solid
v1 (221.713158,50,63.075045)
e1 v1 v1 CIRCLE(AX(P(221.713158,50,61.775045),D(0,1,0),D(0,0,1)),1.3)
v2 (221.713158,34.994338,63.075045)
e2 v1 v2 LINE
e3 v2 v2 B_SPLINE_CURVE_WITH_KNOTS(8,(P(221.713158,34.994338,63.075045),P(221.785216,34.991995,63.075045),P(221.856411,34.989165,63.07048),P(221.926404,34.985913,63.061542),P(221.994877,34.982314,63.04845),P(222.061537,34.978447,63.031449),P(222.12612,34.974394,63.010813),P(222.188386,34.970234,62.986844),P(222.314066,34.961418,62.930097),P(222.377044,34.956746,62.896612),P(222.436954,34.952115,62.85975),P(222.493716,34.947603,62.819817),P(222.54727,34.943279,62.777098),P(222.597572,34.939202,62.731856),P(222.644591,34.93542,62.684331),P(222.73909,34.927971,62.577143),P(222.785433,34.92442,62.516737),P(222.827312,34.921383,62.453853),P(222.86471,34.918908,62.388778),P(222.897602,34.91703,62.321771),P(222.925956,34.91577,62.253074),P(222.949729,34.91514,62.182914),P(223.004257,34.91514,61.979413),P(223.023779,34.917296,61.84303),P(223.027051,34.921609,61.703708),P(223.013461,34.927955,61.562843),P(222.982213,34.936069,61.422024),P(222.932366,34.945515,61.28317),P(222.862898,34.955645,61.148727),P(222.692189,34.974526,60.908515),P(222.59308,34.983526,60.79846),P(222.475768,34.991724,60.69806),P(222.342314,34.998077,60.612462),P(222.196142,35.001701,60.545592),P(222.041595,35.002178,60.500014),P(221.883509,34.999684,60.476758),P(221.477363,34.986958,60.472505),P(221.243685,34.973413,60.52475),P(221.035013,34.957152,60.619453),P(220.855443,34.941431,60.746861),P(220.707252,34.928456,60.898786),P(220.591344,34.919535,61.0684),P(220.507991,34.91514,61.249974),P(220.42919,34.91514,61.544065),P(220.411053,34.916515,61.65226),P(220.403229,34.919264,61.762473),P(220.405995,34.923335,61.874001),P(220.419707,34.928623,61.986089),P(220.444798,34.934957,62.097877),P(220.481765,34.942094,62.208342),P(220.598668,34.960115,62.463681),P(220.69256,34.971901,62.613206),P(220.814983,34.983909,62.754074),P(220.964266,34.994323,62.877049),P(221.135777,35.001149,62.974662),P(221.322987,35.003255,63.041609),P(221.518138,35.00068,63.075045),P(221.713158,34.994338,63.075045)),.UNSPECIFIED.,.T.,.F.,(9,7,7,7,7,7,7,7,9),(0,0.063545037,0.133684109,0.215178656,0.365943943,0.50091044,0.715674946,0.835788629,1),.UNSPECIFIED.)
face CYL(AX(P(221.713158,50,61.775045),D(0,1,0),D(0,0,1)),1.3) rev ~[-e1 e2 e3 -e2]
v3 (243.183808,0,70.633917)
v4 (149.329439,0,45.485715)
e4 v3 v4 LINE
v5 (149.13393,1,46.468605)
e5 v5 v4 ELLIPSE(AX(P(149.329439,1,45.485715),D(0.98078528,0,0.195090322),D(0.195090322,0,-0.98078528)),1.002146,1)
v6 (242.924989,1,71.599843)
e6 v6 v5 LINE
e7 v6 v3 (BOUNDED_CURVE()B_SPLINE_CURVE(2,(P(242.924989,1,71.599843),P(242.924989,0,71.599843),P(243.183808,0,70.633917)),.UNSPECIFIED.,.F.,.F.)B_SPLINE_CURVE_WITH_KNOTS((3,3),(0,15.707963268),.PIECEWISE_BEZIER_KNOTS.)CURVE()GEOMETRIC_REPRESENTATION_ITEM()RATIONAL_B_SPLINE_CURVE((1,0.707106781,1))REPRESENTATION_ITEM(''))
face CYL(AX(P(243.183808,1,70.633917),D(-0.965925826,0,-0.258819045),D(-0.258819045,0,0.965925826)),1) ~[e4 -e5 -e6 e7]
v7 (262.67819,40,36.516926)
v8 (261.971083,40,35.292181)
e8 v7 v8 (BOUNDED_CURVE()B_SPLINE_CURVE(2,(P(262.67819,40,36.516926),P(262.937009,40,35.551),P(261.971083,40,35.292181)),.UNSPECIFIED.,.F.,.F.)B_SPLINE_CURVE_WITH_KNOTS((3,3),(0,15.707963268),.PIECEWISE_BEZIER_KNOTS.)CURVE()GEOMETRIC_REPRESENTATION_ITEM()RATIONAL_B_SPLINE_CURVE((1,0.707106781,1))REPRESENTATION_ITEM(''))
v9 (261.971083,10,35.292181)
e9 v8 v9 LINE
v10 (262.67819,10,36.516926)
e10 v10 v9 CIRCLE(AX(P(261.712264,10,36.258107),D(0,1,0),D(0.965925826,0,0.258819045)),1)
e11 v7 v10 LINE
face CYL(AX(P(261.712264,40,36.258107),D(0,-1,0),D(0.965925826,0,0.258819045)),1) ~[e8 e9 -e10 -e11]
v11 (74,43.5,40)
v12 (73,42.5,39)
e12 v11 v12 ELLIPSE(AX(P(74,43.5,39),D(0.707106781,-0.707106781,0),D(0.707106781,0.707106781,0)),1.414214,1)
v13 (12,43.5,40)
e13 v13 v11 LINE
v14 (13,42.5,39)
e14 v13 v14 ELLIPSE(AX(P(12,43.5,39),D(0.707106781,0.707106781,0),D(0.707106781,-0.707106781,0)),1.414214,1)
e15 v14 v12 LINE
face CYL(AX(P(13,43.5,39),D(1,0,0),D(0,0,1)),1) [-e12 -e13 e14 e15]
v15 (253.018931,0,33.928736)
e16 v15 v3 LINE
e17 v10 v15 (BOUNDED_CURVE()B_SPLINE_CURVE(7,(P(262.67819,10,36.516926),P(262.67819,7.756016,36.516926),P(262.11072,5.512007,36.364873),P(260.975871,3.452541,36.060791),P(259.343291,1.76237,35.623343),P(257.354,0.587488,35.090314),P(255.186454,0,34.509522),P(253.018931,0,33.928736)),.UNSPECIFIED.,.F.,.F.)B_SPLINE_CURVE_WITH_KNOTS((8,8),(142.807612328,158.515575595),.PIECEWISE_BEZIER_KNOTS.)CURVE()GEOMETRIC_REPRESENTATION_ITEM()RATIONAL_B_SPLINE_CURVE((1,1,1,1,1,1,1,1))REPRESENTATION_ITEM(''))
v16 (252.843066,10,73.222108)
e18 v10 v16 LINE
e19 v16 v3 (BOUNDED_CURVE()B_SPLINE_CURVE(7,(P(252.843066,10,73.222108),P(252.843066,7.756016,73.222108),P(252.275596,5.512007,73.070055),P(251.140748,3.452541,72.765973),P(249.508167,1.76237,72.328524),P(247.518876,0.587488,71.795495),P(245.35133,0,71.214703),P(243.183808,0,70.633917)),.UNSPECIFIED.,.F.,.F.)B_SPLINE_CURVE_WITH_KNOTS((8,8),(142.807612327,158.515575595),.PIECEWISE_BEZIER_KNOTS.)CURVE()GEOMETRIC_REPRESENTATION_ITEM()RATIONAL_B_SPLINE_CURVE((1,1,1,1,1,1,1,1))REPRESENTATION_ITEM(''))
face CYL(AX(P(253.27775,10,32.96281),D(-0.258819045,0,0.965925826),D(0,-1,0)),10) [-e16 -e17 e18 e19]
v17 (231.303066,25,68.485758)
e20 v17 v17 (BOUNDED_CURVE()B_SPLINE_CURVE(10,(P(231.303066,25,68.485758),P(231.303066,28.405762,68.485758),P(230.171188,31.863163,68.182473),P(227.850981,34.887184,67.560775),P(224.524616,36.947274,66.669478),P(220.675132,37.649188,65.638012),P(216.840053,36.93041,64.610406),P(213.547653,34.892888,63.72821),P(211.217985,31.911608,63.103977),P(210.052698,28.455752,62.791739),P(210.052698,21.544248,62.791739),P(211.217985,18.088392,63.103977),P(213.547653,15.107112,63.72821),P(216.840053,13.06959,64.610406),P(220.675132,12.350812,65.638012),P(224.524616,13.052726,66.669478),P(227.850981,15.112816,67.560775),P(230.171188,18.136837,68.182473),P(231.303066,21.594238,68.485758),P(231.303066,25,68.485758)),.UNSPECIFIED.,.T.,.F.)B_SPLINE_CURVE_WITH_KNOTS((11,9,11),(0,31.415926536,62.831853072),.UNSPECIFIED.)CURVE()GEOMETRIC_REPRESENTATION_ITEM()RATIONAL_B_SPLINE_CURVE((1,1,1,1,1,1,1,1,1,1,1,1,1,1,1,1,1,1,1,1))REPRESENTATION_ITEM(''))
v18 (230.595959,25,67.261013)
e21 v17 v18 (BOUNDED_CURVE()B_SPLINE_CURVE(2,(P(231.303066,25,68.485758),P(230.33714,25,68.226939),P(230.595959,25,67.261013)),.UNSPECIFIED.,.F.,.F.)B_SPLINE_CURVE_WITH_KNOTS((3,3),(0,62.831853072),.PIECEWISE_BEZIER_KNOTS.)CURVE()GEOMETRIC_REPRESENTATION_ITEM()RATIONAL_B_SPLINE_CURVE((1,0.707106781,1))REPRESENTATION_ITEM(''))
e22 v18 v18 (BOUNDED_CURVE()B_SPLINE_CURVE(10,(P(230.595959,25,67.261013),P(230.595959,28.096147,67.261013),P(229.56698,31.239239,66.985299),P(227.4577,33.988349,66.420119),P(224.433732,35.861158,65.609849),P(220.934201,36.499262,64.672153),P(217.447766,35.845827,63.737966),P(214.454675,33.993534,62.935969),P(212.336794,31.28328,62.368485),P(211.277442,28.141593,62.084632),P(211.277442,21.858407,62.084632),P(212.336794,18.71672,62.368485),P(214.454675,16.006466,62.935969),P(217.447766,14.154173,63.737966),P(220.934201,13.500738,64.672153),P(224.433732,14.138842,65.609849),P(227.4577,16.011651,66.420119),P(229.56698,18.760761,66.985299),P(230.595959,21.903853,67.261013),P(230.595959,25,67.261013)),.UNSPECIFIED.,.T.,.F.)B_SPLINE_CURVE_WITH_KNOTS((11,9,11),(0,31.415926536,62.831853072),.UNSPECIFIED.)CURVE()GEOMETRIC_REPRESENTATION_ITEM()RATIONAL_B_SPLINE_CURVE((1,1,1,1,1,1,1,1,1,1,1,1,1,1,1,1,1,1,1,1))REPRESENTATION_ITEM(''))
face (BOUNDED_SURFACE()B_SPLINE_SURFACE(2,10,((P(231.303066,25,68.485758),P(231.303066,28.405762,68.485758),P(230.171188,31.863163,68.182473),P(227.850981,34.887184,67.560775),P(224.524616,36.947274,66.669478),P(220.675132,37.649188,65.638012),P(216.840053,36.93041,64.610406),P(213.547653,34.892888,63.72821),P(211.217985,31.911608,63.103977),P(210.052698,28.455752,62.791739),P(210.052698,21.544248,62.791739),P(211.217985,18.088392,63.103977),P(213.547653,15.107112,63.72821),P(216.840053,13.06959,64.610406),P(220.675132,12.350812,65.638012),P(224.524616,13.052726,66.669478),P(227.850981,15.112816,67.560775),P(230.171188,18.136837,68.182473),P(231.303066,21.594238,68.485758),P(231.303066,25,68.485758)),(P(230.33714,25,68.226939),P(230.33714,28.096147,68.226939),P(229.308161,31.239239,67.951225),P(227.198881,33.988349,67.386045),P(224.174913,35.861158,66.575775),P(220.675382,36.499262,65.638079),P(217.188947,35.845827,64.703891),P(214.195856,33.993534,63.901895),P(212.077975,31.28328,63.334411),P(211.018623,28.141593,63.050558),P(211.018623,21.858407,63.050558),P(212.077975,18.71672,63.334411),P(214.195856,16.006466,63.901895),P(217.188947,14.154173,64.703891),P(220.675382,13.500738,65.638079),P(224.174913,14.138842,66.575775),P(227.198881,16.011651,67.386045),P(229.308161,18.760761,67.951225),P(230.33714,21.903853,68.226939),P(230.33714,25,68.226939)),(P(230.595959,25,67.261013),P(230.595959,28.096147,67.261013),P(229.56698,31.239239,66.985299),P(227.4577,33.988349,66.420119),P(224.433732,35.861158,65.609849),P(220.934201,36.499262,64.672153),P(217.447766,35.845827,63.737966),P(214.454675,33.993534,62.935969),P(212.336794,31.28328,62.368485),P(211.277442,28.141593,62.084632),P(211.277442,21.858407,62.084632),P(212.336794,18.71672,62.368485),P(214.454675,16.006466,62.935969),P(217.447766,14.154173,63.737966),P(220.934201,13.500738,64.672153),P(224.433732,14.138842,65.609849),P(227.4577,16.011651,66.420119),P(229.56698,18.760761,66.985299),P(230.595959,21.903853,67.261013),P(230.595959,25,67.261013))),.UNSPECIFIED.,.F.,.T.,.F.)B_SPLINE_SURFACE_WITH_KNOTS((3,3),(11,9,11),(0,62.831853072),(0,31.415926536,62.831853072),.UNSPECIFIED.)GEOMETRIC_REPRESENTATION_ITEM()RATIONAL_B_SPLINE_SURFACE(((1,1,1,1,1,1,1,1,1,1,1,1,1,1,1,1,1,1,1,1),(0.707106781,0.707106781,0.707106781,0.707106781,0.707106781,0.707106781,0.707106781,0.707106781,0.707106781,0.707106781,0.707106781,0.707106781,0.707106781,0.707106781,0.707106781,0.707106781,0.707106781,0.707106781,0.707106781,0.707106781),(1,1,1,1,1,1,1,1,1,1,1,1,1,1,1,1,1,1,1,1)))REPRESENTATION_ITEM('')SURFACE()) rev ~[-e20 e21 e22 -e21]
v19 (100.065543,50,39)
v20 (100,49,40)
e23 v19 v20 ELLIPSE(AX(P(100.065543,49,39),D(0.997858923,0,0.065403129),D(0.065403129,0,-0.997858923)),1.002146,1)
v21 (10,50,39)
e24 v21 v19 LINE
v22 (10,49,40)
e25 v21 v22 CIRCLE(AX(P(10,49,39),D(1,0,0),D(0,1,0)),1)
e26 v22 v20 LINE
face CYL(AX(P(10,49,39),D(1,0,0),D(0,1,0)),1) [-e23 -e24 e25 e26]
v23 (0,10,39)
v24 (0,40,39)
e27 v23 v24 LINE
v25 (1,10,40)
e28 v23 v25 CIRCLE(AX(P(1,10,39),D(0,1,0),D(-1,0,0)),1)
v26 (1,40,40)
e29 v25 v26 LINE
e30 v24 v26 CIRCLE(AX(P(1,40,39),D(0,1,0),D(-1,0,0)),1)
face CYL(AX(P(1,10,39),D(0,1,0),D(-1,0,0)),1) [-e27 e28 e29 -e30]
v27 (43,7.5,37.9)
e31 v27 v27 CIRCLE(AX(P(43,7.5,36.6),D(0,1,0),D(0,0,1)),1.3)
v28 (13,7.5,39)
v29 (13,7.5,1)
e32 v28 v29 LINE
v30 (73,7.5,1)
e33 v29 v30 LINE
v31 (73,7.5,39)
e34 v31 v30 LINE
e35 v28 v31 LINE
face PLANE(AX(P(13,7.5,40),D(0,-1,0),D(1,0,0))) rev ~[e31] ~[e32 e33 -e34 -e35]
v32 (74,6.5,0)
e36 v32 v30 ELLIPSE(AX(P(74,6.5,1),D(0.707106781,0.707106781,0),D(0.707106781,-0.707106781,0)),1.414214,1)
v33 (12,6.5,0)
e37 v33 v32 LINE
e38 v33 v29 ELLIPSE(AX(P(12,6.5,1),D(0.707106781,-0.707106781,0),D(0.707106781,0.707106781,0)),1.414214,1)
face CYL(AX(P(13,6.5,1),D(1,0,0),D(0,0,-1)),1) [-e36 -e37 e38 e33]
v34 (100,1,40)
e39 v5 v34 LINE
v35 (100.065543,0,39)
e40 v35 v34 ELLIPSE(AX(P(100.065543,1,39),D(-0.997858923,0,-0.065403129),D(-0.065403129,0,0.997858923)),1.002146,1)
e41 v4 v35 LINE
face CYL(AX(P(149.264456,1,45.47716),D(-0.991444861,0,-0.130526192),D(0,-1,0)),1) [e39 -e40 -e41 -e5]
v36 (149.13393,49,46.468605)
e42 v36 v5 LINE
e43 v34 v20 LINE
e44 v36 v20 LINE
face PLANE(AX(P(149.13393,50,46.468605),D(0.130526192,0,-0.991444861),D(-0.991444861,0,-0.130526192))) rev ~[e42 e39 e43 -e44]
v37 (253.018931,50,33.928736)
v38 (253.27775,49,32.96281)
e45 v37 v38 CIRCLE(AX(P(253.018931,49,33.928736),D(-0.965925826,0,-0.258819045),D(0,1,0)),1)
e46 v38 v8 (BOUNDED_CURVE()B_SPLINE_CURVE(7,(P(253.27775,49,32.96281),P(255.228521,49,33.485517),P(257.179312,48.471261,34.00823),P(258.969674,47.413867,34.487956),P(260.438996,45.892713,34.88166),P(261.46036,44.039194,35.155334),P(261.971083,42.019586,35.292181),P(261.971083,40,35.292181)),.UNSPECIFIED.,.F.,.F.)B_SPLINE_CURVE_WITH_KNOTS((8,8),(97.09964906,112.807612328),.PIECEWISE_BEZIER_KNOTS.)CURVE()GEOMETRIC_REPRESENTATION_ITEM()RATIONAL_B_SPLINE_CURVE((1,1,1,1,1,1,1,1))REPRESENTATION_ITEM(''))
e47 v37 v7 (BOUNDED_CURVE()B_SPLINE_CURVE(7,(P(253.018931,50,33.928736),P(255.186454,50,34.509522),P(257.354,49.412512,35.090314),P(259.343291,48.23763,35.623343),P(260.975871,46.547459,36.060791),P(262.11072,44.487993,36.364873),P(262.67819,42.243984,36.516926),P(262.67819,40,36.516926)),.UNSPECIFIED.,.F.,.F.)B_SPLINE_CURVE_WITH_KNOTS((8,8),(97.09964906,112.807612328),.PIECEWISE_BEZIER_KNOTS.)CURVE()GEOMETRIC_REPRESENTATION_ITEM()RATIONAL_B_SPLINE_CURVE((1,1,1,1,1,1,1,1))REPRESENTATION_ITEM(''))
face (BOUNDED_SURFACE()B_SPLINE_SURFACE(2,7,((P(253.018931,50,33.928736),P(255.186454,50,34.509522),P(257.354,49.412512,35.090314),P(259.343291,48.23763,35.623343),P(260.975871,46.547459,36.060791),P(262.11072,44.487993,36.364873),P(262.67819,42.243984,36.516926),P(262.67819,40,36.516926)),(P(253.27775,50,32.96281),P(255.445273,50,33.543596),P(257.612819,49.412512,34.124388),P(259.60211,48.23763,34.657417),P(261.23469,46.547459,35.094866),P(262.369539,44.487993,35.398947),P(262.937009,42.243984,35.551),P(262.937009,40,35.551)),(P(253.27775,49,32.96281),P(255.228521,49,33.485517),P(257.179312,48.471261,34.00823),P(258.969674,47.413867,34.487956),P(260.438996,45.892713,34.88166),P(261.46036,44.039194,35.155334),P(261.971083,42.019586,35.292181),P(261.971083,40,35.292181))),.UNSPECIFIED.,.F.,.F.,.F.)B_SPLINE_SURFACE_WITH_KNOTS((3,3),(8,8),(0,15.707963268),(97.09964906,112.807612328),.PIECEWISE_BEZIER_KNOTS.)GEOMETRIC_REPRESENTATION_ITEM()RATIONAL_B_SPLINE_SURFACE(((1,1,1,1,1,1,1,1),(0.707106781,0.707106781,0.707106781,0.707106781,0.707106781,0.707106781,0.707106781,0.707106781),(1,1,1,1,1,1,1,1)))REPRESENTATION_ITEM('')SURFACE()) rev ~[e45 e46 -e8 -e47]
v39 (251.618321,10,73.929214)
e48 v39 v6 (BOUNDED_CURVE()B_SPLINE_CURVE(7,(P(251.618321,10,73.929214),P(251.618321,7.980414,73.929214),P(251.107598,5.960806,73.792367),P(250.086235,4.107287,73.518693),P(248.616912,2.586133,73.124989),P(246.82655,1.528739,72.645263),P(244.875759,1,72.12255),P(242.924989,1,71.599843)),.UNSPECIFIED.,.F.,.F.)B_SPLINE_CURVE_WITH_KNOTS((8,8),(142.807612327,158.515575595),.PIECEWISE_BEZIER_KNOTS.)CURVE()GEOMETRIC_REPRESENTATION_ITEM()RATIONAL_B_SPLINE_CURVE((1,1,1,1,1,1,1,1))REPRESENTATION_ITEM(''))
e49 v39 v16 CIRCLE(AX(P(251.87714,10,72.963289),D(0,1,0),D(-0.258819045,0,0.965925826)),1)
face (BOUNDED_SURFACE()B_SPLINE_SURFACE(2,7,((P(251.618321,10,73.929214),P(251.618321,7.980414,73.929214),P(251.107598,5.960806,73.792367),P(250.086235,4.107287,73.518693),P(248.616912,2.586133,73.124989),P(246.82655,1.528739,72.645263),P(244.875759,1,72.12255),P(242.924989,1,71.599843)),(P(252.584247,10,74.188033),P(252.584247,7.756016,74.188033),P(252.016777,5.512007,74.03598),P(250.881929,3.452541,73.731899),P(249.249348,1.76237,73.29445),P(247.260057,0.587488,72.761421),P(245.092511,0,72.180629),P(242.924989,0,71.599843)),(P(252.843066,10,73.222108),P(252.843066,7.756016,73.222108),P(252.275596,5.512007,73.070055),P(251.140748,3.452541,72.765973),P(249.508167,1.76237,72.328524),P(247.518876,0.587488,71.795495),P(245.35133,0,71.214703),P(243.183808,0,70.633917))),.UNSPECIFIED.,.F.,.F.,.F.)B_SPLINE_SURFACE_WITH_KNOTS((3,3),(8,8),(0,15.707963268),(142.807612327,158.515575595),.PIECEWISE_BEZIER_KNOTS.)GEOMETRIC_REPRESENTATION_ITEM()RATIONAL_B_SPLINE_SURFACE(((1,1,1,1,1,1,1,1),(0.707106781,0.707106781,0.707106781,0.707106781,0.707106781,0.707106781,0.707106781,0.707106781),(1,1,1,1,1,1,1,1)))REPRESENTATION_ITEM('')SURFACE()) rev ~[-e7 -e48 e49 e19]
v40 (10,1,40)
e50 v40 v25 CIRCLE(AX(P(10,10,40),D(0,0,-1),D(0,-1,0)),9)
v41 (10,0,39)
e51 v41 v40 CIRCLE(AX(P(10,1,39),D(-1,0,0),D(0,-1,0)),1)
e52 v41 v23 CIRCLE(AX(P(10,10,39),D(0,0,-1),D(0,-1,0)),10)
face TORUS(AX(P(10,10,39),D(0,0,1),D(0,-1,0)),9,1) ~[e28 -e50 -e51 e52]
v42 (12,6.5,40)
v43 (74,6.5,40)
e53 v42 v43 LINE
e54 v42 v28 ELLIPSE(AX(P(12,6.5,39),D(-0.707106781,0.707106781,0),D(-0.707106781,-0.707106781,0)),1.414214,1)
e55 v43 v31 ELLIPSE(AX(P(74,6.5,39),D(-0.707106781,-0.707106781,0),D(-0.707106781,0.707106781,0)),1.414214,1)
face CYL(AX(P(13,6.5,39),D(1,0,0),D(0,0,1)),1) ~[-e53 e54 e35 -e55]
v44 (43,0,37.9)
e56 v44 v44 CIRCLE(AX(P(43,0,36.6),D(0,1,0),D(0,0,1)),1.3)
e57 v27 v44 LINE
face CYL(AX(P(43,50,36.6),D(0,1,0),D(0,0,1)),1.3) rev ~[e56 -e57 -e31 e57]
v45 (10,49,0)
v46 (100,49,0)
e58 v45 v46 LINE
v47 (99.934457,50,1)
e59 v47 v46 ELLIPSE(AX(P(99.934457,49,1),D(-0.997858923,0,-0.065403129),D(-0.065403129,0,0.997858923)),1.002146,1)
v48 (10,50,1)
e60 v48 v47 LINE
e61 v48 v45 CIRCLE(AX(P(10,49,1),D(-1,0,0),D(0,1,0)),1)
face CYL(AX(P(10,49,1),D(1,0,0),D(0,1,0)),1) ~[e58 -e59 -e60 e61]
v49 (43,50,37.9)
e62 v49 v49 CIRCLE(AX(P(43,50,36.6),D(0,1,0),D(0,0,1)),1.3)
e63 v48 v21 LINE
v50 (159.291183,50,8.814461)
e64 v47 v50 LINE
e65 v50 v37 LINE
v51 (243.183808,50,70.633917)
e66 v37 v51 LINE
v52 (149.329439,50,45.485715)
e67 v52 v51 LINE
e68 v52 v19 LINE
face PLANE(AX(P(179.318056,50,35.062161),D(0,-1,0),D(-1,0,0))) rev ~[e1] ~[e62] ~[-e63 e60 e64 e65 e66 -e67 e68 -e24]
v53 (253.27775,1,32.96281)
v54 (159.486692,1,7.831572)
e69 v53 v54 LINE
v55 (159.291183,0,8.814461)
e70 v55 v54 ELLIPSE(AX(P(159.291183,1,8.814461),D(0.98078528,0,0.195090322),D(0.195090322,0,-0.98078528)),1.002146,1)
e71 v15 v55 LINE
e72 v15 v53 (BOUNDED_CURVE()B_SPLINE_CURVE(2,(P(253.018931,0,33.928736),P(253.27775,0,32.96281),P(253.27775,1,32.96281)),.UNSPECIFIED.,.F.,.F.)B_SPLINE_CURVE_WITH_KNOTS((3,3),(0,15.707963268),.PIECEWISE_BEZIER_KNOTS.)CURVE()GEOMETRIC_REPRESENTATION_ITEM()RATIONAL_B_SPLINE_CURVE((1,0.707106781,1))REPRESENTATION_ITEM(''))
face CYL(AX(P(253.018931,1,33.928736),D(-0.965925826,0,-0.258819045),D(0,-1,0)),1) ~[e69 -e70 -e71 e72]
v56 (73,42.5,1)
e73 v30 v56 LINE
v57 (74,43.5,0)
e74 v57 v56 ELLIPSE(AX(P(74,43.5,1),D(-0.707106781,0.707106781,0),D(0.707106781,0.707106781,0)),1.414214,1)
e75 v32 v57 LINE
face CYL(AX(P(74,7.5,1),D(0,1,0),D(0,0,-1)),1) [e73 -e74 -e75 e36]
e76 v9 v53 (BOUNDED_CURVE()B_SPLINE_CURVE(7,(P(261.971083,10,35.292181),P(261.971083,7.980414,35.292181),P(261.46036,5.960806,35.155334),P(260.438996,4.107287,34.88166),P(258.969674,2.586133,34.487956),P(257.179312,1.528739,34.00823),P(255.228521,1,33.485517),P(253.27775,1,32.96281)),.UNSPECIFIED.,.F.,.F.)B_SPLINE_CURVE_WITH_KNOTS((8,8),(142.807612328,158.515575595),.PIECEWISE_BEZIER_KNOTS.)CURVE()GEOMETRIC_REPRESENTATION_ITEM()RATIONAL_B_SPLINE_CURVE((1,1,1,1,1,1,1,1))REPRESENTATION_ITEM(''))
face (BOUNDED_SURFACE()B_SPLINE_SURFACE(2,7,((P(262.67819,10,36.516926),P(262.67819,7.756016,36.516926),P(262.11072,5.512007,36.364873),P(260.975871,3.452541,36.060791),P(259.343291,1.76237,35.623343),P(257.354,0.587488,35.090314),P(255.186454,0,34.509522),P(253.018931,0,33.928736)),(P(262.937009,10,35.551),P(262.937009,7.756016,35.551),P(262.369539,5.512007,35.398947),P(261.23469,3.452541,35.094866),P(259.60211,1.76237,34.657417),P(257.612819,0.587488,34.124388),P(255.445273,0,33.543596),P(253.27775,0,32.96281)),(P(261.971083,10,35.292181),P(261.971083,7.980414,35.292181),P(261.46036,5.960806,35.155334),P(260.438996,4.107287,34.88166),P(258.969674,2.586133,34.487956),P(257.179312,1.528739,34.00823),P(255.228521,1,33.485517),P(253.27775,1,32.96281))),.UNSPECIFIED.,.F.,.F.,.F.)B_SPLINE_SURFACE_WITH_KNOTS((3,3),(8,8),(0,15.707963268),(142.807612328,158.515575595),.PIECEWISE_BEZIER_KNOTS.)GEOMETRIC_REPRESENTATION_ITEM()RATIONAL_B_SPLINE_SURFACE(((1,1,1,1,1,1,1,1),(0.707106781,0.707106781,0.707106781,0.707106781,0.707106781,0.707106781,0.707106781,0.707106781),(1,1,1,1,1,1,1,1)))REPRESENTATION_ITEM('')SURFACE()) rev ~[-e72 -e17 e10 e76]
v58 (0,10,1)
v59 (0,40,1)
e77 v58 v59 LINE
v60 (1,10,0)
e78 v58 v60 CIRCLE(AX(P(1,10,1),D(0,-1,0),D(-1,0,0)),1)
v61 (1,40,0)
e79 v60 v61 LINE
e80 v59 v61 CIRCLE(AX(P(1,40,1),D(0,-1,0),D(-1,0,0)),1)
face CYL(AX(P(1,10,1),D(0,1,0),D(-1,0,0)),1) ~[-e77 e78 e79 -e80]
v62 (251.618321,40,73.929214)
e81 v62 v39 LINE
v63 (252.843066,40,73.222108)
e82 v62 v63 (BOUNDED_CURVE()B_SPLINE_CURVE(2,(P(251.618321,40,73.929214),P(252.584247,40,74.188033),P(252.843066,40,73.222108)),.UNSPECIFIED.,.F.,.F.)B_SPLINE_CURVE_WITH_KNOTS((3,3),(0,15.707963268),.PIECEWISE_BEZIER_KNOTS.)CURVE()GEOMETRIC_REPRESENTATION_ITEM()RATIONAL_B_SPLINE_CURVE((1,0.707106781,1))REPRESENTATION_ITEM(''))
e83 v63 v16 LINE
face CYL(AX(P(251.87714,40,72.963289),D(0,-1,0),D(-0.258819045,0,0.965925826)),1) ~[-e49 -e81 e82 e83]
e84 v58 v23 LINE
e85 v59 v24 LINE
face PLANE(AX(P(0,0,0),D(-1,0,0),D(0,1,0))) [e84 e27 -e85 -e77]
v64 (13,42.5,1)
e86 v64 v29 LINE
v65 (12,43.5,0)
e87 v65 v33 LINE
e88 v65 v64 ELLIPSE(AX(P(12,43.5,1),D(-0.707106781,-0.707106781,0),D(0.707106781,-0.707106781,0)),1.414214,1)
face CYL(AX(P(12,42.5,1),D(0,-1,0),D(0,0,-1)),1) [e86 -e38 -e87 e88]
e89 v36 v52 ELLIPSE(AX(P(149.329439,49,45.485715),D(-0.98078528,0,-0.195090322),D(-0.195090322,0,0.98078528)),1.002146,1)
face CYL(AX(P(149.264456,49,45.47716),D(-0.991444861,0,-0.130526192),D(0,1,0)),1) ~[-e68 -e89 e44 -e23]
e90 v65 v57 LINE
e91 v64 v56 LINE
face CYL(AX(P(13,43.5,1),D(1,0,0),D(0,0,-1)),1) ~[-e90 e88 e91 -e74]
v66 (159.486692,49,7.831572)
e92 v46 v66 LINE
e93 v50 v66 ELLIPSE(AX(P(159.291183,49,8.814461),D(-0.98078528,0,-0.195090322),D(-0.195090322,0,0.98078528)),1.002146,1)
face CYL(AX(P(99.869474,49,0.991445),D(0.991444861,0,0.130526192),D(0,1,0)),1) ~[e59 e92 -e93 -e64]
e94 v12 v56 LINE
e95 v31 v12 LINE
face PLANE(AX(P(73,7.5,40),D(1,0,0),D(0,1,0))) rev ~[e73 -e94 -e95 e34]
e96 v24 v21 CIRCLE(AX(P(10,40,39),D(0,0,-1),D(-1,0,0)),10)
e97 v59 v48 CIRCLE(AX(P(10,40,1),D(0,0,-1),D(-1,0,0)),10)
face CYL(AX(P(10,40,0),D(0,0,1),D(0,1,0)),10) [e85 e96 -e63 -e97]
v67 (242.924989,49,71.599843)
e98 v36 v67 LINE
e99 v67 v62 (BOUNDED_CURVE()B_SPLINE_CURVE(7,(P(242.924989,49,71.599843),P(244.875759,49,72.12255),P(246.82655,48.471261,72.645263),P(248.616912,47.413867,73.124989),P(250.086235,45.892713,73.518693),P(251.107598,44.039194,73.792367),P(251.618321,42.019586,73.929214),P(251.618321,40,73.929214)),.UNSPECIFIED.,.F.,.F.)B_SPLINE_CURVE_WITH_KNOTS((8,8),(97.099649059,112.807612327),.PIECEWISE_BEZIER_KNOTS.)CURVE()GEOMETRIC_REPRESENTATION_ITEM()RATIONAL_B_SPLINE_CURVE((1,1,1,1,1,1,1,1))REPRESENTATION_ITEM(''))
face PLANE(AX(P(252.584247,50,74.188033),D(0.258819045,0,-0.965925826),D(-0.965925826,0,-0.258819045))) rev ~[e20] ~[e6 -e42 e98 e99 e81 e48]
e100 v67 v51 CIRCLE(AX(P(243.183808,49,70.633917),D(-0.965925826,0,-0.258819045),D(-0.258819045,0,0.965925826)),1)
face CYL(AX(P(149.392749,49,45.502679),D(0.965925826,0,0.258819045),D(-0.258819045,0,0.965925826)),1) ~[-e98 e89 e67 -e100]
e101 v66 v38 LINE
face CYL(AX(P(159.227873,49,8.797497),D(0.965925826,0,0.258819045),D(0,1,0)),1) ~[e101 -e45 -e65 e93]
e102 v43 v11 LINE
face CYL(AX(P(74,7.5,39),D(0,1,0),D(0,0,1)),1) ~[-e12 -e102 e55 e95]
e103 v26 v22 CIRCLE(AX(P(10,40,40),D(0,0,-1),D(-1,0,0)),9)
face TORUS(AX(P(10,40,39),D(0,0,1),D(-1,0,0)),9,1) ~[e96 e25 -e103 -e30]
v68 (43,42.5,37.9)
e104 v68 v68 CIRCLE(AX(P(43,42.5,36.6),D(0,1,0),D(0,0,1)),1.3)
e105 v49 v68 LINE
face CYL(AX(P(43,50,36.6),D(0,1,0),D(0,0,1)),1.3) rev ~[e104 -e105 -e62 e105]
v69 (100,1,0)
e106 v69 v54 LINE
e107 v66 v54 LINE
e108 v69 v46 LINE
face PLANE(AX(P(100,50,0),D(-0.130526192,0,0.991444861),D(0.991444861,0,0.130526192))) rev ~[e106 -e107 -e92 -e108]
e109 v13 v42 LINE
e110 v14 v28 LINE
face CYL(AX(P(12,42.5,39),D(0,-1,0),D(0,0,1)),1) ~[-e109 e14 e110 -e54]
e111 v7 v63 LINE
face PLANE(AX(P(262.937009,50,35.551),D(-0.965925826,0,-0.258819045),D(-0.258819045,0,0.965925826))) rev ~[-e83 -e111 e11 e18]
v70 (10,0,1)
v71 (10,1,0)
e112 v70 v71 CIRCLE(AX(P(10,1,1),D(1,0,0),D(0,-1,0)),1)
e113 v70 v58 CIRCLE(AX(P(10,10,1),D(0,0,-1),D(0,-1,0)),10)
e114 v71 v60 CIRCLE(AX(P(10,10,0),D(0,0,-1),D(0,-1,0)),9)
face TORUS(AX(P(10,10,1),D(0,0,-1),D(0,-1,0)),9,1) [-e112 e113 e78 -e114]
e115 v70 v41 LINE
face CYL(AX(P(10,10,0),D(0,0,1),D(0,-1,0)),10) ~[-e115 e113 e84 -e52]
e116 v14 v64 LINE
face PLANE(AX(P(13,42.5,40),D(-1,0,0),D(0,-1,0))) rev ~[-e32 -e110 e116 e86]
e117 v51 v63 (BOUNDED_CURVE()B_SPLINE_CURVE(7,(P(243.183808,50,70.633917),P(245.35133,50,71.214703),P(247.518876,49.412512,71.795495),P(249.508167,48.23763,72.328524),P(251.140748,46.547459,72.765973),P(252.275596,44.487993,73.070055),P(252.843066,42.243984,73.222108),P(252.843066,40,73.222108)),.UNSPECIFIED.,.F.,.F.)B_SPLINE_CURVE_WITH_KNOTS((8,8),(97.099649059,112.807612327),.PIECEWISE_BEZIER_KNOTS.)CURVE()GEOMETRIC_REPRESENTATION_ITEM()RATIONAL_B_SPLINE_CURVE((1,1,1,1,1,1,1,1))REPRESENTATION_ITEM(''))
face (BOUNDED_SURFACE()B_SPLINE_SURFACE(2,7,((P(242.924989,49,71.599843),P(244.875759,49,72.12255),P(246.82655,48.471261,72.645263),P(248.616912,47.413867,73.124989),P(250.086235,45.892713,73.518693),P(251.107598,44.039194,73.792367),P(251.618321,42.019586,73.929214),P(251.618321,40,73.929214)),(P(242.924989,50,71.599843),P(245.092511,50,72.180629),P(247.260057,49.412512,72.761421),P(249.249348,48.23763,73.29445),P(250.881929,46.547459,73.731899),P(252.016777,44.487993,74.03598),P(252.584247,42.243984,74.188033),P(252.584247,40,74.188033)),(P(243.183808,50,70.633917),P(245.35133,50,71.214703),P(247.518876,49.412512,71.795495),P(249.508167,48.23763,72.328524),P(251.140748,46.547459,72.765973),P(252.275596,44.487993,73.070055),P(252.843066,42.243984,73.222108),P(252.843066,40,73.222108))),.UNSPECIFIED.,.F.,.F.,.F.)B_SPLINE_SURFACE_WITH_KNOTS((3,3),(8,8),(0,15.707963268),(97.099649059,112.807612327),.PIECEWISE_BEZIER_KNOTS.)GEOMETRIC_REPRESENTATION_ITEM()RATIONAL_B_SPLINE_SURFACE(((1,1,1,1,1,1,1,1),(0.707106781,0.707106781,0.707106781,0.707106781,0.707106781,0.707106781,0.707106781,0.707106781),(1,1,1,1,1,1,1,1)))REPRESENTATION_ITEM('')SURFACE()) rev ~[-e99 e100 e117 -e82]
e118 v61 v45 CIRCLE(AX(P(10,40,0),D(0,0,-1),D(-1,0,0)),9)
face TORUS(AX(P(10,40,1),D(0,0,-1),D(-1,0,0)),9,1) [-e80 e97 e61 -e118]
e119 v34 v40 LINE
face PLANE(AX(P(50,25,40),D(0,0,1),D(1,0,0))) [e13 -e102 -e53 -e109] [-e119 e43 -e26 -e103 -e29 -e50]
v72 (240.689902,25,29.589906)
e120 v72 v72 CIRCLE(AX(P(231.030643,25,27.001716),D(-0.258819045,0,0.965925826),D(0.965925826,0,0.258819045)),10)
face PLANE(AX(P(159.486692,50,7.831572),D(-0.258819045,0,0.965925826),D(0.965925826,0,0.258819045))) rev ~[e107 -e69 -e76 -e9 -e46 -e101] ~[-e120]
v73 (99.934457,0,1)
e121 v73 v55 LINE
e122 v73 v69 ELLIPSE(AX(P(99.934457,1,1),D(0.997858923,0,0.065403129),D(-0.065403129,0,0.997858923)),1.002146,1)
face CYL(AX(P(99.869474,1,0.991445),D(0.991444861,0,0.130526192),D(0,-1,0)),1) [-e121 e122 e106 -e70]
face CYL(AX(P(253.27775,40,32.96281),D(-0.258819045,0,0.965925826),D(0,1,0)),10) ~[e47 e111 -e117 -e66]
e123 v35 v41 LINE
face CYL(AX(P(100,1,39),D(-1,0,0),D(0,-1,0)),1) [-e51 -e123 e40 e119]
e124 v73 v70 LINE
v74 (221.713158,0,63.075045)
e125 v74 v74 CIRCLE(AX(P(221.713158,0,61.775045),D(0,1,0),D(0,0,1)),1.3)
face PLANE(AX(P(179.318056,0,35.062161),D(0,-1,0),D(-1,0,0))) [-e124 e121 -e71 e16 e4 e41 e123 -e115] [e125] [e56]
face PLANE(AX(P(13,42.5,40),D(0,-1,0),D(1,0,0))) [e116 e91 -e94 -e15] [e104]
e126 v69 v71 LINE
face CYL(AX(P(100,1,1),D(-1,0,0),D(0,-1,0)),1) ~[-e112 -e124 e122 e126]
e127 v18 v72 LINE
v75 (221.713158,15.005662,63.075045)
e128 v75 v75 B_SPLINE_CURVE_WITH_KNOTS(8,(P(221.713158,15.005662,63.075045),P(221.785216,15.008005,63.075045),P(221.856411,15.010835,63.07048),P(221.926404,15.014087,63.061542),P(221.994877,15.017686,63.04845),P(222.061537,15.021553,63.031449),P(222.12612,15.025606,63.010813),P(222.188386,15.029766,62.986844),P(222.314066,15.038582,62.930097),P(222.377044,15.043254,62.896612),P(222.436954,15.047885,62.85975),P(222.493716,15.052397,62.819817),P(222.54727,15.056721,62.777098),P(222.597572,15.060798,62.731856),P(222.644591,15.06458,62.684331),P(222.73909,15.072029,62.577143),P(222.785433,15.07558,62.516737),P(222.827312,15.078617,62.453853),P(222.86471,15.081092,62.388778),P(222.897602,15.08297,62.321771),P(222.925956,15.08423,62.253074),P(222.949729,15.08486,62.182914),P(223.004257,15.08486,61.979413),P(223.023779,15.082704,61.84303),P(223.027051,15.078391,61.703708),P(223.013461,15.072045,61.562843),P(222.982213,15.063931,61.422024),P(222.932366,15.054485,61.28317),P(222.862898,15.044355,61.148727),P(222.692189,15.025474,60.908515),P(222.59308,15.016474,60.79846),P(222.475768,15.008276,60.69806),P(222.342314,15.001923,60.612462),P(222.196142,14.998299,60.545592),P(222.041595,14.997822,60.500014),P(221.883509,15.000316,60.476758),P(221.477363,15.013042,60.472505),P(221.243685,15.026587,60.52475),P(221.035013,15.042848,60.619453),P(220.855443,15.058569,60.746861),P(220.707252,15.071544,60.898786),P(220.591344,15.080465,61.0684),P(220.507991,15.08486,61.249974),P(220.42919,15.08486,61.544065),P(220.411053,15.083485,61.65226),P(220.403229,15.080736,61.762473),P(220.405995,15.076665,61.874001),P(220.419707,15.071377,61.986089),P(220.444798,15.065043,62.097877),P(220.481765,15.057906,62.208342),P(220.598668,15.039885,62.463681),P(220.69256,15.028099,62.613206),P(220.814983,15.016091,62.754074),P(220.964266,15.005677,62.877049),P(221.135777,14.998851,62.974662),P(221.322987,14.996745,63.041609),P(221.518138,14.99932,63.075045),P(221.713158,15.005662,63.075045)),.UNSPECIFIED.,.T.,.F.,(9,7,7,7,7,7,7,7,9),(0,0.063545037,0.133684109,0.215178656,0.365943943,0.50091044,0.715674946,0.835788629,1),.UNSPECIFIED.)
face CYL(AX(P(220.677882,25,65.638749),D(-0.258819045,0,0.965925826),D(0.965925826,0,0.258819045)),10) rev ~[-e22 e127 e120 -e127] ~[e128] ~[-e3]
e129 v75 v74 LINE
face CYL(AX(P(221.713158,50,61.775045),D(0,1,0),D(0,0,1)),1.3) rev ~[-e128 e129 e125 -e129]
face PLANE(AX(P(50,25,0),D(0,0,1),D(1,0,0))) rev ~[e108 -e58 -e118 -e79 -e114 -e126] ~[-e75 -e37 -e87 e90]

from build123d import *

# Parameters (mm, degrees)
SKETCH_1_W          = 100
SKETCH_1_H          = 50
EXTRUDE_1_DEPTH     = 40
SKETCH_2_W          = 60
SKETCH_2_H          = 17.5
CUT_EXTRUDE_1_DEPTH = 70
SKETCH_4_R          = 1.3
CUT_EXTRUDE_2_DEPTH = 119.74342087
EXTRUDE_2_DEPTH     = 50
SKETCH_6_R          = 10
CUT_EXTRUDE_3_DEPTH = 278.729911697
SKETCH_7_R          = 1.3
CUT_EXTRUDE_4_DEPTH = 278.740409113
FILLET_1_R          = 10
FILLET_2_R          = 1


with BuildPart() as part:
    # 草圖1 → 填料-伸長1 (new body)
    with BuildSketch(Plane.XY):
        with Locations((50, 25)):
            Rectangle(SKETCH_1_W, SKETCH_1_H)
    extrude(amount=EXTRUDE_1_DEPTH)

    # 草圖2 → 除料-伸長1 (cut)
    with BuildSketch(Plane.XY.offset(40)):
        with Locations((43, 33.75)):
            Rectangle(SKETCH_2_W, SKETCH_2_H)
        with Locations((43, 16.25)):
            Rectangle(SKETCH_2_W, SKETCH_2_H)
    extrude(amount=-CUT_EXTRUDE_1_DEPTH, mode=Mode.SUBTRACT)

    # 草圖4 → 除料-伸長2 (cut, through all)
    with BuildSketch(Plane(origin=(0, 50, 0), x_dir=(1, 0, 0), z_dir=(0, 1, 0))):
        with Locations(Location((43, -36.6, 0), (0, 0, 270))):
            Circle(SKETCH_4_R)
    extrude(amount=-CUT_EXTRUDE_2_DEPTH, mode=Mode.SUBTRACT)

    # 草圖5 → 填料-伸長2 (add)
    with BuildSketch(Plane(origin=(0, 50, 0), x_dir=(1, 0, 0), z_dir=(0, 1, 0))):
        Polygon((149.133929878, -46.468604585), (100, -40), (100, 0), (159.486691682, -7.831571533), (262.937008695, -35.551000434), (252.584246891, -74.188033485), align=None)
    extrude(amount=-EXTRUDE_2_DEPTH)

    # 草圖6 → 除料-伸長3 (cut, through all)
    with BuildSketch(Plane(origin=(-1.627072127, 0, 6.072315847), x_dir=(0.9659258262890664, 0, 0.2588190451025279), z_dir=(-0.25881904510252796, 0, 0.9659258262890664))):
        with Locations((230.147023393, 25)):
            Circle(SKETCH_6_R)
    extrude(amount=-CUT_EXTRUDE_3_DEPTH, mode=Mode.SUBTRACT)

    # 草圖7 → 除料-伸長4 (cut, through all)
    with BuildSketch(Plane(origin=(0, 50, 0), x_dir=(1, 0, 0), z_dir=(0, 1, 0))):
        with Locations(Location((221.713157792, -61.77504537, 0), (0, 0, 270))):
            Circle(SKETCH_7_R)
    extrude(amount=-CUT_EXTRUDE_4_DEPTH, mode=Mode.SUBTRACT)

    # 圓角1
    fillet_1_edges = [part.edges().sort_by_distance(p)[0] for p in [
        (257.760627793, 0, 54.869516959),
        (257.760627793, 50, 54.869516959),
        (0, 50, 20),
        (0, 0, 20),
    ]]
    fillet(fillet_1_edges, radius=FILLET_1_R)

    # 圓角2
    fillet_2_edges = [part.edges().sort_by_distance(p)[0] for p in [
        (55, 50, 40),
        (43, 7.5, 0),
        (73, 25, 0),
        (43, 42.5, 0),
        (13, 25, 0),
        (43, 42.5, 40),
        (73, 25, 40),
        (13, 25, 40),
        (43, 7.5, 40),
        (196.029459253, 0, 59.034223809),
        (206.382221057, 50, 20.397190758),
        (129.743345841, 0, 3.915785767),
        (129.743345841, 50, 3.915785767),
        (124.566964939, 0, 43.234302292),
        (124.566964939, 50, 43.234302292),
        (55, 50, 0),
        (211.018623349, 25, 63.050558224),
        (252.584246891, 25, 74.188033485),
        (262.937008695, 25, 35.551000434),
        (196.029459253, 50, 59.034223809),
        (249.755115647, 2.928932188, 73.429970053),
        (249.755115647, 47.071067812, 73.429970053),
        (206.382221057, 0, 20.397190758),
        (260.107877451, 2.928932188, 34.792937001),
        (260.107877451, 47.071067812, 34.792937001),
        (55, 0, 0),
        (55, 0, 40),
        (0, 25, 0),
        (0, 25, 40),
        (2.928932188, 2.928932188, 0),
        (2.928932188, 47.071067812, 0),
        (2.928932188, 2.928932188, 40),
        (2.928932188, 47.071067812, 40),
    ]]
    fillet(fillet_2_edges, radius=FILLET_2_R)


solid = part.part
